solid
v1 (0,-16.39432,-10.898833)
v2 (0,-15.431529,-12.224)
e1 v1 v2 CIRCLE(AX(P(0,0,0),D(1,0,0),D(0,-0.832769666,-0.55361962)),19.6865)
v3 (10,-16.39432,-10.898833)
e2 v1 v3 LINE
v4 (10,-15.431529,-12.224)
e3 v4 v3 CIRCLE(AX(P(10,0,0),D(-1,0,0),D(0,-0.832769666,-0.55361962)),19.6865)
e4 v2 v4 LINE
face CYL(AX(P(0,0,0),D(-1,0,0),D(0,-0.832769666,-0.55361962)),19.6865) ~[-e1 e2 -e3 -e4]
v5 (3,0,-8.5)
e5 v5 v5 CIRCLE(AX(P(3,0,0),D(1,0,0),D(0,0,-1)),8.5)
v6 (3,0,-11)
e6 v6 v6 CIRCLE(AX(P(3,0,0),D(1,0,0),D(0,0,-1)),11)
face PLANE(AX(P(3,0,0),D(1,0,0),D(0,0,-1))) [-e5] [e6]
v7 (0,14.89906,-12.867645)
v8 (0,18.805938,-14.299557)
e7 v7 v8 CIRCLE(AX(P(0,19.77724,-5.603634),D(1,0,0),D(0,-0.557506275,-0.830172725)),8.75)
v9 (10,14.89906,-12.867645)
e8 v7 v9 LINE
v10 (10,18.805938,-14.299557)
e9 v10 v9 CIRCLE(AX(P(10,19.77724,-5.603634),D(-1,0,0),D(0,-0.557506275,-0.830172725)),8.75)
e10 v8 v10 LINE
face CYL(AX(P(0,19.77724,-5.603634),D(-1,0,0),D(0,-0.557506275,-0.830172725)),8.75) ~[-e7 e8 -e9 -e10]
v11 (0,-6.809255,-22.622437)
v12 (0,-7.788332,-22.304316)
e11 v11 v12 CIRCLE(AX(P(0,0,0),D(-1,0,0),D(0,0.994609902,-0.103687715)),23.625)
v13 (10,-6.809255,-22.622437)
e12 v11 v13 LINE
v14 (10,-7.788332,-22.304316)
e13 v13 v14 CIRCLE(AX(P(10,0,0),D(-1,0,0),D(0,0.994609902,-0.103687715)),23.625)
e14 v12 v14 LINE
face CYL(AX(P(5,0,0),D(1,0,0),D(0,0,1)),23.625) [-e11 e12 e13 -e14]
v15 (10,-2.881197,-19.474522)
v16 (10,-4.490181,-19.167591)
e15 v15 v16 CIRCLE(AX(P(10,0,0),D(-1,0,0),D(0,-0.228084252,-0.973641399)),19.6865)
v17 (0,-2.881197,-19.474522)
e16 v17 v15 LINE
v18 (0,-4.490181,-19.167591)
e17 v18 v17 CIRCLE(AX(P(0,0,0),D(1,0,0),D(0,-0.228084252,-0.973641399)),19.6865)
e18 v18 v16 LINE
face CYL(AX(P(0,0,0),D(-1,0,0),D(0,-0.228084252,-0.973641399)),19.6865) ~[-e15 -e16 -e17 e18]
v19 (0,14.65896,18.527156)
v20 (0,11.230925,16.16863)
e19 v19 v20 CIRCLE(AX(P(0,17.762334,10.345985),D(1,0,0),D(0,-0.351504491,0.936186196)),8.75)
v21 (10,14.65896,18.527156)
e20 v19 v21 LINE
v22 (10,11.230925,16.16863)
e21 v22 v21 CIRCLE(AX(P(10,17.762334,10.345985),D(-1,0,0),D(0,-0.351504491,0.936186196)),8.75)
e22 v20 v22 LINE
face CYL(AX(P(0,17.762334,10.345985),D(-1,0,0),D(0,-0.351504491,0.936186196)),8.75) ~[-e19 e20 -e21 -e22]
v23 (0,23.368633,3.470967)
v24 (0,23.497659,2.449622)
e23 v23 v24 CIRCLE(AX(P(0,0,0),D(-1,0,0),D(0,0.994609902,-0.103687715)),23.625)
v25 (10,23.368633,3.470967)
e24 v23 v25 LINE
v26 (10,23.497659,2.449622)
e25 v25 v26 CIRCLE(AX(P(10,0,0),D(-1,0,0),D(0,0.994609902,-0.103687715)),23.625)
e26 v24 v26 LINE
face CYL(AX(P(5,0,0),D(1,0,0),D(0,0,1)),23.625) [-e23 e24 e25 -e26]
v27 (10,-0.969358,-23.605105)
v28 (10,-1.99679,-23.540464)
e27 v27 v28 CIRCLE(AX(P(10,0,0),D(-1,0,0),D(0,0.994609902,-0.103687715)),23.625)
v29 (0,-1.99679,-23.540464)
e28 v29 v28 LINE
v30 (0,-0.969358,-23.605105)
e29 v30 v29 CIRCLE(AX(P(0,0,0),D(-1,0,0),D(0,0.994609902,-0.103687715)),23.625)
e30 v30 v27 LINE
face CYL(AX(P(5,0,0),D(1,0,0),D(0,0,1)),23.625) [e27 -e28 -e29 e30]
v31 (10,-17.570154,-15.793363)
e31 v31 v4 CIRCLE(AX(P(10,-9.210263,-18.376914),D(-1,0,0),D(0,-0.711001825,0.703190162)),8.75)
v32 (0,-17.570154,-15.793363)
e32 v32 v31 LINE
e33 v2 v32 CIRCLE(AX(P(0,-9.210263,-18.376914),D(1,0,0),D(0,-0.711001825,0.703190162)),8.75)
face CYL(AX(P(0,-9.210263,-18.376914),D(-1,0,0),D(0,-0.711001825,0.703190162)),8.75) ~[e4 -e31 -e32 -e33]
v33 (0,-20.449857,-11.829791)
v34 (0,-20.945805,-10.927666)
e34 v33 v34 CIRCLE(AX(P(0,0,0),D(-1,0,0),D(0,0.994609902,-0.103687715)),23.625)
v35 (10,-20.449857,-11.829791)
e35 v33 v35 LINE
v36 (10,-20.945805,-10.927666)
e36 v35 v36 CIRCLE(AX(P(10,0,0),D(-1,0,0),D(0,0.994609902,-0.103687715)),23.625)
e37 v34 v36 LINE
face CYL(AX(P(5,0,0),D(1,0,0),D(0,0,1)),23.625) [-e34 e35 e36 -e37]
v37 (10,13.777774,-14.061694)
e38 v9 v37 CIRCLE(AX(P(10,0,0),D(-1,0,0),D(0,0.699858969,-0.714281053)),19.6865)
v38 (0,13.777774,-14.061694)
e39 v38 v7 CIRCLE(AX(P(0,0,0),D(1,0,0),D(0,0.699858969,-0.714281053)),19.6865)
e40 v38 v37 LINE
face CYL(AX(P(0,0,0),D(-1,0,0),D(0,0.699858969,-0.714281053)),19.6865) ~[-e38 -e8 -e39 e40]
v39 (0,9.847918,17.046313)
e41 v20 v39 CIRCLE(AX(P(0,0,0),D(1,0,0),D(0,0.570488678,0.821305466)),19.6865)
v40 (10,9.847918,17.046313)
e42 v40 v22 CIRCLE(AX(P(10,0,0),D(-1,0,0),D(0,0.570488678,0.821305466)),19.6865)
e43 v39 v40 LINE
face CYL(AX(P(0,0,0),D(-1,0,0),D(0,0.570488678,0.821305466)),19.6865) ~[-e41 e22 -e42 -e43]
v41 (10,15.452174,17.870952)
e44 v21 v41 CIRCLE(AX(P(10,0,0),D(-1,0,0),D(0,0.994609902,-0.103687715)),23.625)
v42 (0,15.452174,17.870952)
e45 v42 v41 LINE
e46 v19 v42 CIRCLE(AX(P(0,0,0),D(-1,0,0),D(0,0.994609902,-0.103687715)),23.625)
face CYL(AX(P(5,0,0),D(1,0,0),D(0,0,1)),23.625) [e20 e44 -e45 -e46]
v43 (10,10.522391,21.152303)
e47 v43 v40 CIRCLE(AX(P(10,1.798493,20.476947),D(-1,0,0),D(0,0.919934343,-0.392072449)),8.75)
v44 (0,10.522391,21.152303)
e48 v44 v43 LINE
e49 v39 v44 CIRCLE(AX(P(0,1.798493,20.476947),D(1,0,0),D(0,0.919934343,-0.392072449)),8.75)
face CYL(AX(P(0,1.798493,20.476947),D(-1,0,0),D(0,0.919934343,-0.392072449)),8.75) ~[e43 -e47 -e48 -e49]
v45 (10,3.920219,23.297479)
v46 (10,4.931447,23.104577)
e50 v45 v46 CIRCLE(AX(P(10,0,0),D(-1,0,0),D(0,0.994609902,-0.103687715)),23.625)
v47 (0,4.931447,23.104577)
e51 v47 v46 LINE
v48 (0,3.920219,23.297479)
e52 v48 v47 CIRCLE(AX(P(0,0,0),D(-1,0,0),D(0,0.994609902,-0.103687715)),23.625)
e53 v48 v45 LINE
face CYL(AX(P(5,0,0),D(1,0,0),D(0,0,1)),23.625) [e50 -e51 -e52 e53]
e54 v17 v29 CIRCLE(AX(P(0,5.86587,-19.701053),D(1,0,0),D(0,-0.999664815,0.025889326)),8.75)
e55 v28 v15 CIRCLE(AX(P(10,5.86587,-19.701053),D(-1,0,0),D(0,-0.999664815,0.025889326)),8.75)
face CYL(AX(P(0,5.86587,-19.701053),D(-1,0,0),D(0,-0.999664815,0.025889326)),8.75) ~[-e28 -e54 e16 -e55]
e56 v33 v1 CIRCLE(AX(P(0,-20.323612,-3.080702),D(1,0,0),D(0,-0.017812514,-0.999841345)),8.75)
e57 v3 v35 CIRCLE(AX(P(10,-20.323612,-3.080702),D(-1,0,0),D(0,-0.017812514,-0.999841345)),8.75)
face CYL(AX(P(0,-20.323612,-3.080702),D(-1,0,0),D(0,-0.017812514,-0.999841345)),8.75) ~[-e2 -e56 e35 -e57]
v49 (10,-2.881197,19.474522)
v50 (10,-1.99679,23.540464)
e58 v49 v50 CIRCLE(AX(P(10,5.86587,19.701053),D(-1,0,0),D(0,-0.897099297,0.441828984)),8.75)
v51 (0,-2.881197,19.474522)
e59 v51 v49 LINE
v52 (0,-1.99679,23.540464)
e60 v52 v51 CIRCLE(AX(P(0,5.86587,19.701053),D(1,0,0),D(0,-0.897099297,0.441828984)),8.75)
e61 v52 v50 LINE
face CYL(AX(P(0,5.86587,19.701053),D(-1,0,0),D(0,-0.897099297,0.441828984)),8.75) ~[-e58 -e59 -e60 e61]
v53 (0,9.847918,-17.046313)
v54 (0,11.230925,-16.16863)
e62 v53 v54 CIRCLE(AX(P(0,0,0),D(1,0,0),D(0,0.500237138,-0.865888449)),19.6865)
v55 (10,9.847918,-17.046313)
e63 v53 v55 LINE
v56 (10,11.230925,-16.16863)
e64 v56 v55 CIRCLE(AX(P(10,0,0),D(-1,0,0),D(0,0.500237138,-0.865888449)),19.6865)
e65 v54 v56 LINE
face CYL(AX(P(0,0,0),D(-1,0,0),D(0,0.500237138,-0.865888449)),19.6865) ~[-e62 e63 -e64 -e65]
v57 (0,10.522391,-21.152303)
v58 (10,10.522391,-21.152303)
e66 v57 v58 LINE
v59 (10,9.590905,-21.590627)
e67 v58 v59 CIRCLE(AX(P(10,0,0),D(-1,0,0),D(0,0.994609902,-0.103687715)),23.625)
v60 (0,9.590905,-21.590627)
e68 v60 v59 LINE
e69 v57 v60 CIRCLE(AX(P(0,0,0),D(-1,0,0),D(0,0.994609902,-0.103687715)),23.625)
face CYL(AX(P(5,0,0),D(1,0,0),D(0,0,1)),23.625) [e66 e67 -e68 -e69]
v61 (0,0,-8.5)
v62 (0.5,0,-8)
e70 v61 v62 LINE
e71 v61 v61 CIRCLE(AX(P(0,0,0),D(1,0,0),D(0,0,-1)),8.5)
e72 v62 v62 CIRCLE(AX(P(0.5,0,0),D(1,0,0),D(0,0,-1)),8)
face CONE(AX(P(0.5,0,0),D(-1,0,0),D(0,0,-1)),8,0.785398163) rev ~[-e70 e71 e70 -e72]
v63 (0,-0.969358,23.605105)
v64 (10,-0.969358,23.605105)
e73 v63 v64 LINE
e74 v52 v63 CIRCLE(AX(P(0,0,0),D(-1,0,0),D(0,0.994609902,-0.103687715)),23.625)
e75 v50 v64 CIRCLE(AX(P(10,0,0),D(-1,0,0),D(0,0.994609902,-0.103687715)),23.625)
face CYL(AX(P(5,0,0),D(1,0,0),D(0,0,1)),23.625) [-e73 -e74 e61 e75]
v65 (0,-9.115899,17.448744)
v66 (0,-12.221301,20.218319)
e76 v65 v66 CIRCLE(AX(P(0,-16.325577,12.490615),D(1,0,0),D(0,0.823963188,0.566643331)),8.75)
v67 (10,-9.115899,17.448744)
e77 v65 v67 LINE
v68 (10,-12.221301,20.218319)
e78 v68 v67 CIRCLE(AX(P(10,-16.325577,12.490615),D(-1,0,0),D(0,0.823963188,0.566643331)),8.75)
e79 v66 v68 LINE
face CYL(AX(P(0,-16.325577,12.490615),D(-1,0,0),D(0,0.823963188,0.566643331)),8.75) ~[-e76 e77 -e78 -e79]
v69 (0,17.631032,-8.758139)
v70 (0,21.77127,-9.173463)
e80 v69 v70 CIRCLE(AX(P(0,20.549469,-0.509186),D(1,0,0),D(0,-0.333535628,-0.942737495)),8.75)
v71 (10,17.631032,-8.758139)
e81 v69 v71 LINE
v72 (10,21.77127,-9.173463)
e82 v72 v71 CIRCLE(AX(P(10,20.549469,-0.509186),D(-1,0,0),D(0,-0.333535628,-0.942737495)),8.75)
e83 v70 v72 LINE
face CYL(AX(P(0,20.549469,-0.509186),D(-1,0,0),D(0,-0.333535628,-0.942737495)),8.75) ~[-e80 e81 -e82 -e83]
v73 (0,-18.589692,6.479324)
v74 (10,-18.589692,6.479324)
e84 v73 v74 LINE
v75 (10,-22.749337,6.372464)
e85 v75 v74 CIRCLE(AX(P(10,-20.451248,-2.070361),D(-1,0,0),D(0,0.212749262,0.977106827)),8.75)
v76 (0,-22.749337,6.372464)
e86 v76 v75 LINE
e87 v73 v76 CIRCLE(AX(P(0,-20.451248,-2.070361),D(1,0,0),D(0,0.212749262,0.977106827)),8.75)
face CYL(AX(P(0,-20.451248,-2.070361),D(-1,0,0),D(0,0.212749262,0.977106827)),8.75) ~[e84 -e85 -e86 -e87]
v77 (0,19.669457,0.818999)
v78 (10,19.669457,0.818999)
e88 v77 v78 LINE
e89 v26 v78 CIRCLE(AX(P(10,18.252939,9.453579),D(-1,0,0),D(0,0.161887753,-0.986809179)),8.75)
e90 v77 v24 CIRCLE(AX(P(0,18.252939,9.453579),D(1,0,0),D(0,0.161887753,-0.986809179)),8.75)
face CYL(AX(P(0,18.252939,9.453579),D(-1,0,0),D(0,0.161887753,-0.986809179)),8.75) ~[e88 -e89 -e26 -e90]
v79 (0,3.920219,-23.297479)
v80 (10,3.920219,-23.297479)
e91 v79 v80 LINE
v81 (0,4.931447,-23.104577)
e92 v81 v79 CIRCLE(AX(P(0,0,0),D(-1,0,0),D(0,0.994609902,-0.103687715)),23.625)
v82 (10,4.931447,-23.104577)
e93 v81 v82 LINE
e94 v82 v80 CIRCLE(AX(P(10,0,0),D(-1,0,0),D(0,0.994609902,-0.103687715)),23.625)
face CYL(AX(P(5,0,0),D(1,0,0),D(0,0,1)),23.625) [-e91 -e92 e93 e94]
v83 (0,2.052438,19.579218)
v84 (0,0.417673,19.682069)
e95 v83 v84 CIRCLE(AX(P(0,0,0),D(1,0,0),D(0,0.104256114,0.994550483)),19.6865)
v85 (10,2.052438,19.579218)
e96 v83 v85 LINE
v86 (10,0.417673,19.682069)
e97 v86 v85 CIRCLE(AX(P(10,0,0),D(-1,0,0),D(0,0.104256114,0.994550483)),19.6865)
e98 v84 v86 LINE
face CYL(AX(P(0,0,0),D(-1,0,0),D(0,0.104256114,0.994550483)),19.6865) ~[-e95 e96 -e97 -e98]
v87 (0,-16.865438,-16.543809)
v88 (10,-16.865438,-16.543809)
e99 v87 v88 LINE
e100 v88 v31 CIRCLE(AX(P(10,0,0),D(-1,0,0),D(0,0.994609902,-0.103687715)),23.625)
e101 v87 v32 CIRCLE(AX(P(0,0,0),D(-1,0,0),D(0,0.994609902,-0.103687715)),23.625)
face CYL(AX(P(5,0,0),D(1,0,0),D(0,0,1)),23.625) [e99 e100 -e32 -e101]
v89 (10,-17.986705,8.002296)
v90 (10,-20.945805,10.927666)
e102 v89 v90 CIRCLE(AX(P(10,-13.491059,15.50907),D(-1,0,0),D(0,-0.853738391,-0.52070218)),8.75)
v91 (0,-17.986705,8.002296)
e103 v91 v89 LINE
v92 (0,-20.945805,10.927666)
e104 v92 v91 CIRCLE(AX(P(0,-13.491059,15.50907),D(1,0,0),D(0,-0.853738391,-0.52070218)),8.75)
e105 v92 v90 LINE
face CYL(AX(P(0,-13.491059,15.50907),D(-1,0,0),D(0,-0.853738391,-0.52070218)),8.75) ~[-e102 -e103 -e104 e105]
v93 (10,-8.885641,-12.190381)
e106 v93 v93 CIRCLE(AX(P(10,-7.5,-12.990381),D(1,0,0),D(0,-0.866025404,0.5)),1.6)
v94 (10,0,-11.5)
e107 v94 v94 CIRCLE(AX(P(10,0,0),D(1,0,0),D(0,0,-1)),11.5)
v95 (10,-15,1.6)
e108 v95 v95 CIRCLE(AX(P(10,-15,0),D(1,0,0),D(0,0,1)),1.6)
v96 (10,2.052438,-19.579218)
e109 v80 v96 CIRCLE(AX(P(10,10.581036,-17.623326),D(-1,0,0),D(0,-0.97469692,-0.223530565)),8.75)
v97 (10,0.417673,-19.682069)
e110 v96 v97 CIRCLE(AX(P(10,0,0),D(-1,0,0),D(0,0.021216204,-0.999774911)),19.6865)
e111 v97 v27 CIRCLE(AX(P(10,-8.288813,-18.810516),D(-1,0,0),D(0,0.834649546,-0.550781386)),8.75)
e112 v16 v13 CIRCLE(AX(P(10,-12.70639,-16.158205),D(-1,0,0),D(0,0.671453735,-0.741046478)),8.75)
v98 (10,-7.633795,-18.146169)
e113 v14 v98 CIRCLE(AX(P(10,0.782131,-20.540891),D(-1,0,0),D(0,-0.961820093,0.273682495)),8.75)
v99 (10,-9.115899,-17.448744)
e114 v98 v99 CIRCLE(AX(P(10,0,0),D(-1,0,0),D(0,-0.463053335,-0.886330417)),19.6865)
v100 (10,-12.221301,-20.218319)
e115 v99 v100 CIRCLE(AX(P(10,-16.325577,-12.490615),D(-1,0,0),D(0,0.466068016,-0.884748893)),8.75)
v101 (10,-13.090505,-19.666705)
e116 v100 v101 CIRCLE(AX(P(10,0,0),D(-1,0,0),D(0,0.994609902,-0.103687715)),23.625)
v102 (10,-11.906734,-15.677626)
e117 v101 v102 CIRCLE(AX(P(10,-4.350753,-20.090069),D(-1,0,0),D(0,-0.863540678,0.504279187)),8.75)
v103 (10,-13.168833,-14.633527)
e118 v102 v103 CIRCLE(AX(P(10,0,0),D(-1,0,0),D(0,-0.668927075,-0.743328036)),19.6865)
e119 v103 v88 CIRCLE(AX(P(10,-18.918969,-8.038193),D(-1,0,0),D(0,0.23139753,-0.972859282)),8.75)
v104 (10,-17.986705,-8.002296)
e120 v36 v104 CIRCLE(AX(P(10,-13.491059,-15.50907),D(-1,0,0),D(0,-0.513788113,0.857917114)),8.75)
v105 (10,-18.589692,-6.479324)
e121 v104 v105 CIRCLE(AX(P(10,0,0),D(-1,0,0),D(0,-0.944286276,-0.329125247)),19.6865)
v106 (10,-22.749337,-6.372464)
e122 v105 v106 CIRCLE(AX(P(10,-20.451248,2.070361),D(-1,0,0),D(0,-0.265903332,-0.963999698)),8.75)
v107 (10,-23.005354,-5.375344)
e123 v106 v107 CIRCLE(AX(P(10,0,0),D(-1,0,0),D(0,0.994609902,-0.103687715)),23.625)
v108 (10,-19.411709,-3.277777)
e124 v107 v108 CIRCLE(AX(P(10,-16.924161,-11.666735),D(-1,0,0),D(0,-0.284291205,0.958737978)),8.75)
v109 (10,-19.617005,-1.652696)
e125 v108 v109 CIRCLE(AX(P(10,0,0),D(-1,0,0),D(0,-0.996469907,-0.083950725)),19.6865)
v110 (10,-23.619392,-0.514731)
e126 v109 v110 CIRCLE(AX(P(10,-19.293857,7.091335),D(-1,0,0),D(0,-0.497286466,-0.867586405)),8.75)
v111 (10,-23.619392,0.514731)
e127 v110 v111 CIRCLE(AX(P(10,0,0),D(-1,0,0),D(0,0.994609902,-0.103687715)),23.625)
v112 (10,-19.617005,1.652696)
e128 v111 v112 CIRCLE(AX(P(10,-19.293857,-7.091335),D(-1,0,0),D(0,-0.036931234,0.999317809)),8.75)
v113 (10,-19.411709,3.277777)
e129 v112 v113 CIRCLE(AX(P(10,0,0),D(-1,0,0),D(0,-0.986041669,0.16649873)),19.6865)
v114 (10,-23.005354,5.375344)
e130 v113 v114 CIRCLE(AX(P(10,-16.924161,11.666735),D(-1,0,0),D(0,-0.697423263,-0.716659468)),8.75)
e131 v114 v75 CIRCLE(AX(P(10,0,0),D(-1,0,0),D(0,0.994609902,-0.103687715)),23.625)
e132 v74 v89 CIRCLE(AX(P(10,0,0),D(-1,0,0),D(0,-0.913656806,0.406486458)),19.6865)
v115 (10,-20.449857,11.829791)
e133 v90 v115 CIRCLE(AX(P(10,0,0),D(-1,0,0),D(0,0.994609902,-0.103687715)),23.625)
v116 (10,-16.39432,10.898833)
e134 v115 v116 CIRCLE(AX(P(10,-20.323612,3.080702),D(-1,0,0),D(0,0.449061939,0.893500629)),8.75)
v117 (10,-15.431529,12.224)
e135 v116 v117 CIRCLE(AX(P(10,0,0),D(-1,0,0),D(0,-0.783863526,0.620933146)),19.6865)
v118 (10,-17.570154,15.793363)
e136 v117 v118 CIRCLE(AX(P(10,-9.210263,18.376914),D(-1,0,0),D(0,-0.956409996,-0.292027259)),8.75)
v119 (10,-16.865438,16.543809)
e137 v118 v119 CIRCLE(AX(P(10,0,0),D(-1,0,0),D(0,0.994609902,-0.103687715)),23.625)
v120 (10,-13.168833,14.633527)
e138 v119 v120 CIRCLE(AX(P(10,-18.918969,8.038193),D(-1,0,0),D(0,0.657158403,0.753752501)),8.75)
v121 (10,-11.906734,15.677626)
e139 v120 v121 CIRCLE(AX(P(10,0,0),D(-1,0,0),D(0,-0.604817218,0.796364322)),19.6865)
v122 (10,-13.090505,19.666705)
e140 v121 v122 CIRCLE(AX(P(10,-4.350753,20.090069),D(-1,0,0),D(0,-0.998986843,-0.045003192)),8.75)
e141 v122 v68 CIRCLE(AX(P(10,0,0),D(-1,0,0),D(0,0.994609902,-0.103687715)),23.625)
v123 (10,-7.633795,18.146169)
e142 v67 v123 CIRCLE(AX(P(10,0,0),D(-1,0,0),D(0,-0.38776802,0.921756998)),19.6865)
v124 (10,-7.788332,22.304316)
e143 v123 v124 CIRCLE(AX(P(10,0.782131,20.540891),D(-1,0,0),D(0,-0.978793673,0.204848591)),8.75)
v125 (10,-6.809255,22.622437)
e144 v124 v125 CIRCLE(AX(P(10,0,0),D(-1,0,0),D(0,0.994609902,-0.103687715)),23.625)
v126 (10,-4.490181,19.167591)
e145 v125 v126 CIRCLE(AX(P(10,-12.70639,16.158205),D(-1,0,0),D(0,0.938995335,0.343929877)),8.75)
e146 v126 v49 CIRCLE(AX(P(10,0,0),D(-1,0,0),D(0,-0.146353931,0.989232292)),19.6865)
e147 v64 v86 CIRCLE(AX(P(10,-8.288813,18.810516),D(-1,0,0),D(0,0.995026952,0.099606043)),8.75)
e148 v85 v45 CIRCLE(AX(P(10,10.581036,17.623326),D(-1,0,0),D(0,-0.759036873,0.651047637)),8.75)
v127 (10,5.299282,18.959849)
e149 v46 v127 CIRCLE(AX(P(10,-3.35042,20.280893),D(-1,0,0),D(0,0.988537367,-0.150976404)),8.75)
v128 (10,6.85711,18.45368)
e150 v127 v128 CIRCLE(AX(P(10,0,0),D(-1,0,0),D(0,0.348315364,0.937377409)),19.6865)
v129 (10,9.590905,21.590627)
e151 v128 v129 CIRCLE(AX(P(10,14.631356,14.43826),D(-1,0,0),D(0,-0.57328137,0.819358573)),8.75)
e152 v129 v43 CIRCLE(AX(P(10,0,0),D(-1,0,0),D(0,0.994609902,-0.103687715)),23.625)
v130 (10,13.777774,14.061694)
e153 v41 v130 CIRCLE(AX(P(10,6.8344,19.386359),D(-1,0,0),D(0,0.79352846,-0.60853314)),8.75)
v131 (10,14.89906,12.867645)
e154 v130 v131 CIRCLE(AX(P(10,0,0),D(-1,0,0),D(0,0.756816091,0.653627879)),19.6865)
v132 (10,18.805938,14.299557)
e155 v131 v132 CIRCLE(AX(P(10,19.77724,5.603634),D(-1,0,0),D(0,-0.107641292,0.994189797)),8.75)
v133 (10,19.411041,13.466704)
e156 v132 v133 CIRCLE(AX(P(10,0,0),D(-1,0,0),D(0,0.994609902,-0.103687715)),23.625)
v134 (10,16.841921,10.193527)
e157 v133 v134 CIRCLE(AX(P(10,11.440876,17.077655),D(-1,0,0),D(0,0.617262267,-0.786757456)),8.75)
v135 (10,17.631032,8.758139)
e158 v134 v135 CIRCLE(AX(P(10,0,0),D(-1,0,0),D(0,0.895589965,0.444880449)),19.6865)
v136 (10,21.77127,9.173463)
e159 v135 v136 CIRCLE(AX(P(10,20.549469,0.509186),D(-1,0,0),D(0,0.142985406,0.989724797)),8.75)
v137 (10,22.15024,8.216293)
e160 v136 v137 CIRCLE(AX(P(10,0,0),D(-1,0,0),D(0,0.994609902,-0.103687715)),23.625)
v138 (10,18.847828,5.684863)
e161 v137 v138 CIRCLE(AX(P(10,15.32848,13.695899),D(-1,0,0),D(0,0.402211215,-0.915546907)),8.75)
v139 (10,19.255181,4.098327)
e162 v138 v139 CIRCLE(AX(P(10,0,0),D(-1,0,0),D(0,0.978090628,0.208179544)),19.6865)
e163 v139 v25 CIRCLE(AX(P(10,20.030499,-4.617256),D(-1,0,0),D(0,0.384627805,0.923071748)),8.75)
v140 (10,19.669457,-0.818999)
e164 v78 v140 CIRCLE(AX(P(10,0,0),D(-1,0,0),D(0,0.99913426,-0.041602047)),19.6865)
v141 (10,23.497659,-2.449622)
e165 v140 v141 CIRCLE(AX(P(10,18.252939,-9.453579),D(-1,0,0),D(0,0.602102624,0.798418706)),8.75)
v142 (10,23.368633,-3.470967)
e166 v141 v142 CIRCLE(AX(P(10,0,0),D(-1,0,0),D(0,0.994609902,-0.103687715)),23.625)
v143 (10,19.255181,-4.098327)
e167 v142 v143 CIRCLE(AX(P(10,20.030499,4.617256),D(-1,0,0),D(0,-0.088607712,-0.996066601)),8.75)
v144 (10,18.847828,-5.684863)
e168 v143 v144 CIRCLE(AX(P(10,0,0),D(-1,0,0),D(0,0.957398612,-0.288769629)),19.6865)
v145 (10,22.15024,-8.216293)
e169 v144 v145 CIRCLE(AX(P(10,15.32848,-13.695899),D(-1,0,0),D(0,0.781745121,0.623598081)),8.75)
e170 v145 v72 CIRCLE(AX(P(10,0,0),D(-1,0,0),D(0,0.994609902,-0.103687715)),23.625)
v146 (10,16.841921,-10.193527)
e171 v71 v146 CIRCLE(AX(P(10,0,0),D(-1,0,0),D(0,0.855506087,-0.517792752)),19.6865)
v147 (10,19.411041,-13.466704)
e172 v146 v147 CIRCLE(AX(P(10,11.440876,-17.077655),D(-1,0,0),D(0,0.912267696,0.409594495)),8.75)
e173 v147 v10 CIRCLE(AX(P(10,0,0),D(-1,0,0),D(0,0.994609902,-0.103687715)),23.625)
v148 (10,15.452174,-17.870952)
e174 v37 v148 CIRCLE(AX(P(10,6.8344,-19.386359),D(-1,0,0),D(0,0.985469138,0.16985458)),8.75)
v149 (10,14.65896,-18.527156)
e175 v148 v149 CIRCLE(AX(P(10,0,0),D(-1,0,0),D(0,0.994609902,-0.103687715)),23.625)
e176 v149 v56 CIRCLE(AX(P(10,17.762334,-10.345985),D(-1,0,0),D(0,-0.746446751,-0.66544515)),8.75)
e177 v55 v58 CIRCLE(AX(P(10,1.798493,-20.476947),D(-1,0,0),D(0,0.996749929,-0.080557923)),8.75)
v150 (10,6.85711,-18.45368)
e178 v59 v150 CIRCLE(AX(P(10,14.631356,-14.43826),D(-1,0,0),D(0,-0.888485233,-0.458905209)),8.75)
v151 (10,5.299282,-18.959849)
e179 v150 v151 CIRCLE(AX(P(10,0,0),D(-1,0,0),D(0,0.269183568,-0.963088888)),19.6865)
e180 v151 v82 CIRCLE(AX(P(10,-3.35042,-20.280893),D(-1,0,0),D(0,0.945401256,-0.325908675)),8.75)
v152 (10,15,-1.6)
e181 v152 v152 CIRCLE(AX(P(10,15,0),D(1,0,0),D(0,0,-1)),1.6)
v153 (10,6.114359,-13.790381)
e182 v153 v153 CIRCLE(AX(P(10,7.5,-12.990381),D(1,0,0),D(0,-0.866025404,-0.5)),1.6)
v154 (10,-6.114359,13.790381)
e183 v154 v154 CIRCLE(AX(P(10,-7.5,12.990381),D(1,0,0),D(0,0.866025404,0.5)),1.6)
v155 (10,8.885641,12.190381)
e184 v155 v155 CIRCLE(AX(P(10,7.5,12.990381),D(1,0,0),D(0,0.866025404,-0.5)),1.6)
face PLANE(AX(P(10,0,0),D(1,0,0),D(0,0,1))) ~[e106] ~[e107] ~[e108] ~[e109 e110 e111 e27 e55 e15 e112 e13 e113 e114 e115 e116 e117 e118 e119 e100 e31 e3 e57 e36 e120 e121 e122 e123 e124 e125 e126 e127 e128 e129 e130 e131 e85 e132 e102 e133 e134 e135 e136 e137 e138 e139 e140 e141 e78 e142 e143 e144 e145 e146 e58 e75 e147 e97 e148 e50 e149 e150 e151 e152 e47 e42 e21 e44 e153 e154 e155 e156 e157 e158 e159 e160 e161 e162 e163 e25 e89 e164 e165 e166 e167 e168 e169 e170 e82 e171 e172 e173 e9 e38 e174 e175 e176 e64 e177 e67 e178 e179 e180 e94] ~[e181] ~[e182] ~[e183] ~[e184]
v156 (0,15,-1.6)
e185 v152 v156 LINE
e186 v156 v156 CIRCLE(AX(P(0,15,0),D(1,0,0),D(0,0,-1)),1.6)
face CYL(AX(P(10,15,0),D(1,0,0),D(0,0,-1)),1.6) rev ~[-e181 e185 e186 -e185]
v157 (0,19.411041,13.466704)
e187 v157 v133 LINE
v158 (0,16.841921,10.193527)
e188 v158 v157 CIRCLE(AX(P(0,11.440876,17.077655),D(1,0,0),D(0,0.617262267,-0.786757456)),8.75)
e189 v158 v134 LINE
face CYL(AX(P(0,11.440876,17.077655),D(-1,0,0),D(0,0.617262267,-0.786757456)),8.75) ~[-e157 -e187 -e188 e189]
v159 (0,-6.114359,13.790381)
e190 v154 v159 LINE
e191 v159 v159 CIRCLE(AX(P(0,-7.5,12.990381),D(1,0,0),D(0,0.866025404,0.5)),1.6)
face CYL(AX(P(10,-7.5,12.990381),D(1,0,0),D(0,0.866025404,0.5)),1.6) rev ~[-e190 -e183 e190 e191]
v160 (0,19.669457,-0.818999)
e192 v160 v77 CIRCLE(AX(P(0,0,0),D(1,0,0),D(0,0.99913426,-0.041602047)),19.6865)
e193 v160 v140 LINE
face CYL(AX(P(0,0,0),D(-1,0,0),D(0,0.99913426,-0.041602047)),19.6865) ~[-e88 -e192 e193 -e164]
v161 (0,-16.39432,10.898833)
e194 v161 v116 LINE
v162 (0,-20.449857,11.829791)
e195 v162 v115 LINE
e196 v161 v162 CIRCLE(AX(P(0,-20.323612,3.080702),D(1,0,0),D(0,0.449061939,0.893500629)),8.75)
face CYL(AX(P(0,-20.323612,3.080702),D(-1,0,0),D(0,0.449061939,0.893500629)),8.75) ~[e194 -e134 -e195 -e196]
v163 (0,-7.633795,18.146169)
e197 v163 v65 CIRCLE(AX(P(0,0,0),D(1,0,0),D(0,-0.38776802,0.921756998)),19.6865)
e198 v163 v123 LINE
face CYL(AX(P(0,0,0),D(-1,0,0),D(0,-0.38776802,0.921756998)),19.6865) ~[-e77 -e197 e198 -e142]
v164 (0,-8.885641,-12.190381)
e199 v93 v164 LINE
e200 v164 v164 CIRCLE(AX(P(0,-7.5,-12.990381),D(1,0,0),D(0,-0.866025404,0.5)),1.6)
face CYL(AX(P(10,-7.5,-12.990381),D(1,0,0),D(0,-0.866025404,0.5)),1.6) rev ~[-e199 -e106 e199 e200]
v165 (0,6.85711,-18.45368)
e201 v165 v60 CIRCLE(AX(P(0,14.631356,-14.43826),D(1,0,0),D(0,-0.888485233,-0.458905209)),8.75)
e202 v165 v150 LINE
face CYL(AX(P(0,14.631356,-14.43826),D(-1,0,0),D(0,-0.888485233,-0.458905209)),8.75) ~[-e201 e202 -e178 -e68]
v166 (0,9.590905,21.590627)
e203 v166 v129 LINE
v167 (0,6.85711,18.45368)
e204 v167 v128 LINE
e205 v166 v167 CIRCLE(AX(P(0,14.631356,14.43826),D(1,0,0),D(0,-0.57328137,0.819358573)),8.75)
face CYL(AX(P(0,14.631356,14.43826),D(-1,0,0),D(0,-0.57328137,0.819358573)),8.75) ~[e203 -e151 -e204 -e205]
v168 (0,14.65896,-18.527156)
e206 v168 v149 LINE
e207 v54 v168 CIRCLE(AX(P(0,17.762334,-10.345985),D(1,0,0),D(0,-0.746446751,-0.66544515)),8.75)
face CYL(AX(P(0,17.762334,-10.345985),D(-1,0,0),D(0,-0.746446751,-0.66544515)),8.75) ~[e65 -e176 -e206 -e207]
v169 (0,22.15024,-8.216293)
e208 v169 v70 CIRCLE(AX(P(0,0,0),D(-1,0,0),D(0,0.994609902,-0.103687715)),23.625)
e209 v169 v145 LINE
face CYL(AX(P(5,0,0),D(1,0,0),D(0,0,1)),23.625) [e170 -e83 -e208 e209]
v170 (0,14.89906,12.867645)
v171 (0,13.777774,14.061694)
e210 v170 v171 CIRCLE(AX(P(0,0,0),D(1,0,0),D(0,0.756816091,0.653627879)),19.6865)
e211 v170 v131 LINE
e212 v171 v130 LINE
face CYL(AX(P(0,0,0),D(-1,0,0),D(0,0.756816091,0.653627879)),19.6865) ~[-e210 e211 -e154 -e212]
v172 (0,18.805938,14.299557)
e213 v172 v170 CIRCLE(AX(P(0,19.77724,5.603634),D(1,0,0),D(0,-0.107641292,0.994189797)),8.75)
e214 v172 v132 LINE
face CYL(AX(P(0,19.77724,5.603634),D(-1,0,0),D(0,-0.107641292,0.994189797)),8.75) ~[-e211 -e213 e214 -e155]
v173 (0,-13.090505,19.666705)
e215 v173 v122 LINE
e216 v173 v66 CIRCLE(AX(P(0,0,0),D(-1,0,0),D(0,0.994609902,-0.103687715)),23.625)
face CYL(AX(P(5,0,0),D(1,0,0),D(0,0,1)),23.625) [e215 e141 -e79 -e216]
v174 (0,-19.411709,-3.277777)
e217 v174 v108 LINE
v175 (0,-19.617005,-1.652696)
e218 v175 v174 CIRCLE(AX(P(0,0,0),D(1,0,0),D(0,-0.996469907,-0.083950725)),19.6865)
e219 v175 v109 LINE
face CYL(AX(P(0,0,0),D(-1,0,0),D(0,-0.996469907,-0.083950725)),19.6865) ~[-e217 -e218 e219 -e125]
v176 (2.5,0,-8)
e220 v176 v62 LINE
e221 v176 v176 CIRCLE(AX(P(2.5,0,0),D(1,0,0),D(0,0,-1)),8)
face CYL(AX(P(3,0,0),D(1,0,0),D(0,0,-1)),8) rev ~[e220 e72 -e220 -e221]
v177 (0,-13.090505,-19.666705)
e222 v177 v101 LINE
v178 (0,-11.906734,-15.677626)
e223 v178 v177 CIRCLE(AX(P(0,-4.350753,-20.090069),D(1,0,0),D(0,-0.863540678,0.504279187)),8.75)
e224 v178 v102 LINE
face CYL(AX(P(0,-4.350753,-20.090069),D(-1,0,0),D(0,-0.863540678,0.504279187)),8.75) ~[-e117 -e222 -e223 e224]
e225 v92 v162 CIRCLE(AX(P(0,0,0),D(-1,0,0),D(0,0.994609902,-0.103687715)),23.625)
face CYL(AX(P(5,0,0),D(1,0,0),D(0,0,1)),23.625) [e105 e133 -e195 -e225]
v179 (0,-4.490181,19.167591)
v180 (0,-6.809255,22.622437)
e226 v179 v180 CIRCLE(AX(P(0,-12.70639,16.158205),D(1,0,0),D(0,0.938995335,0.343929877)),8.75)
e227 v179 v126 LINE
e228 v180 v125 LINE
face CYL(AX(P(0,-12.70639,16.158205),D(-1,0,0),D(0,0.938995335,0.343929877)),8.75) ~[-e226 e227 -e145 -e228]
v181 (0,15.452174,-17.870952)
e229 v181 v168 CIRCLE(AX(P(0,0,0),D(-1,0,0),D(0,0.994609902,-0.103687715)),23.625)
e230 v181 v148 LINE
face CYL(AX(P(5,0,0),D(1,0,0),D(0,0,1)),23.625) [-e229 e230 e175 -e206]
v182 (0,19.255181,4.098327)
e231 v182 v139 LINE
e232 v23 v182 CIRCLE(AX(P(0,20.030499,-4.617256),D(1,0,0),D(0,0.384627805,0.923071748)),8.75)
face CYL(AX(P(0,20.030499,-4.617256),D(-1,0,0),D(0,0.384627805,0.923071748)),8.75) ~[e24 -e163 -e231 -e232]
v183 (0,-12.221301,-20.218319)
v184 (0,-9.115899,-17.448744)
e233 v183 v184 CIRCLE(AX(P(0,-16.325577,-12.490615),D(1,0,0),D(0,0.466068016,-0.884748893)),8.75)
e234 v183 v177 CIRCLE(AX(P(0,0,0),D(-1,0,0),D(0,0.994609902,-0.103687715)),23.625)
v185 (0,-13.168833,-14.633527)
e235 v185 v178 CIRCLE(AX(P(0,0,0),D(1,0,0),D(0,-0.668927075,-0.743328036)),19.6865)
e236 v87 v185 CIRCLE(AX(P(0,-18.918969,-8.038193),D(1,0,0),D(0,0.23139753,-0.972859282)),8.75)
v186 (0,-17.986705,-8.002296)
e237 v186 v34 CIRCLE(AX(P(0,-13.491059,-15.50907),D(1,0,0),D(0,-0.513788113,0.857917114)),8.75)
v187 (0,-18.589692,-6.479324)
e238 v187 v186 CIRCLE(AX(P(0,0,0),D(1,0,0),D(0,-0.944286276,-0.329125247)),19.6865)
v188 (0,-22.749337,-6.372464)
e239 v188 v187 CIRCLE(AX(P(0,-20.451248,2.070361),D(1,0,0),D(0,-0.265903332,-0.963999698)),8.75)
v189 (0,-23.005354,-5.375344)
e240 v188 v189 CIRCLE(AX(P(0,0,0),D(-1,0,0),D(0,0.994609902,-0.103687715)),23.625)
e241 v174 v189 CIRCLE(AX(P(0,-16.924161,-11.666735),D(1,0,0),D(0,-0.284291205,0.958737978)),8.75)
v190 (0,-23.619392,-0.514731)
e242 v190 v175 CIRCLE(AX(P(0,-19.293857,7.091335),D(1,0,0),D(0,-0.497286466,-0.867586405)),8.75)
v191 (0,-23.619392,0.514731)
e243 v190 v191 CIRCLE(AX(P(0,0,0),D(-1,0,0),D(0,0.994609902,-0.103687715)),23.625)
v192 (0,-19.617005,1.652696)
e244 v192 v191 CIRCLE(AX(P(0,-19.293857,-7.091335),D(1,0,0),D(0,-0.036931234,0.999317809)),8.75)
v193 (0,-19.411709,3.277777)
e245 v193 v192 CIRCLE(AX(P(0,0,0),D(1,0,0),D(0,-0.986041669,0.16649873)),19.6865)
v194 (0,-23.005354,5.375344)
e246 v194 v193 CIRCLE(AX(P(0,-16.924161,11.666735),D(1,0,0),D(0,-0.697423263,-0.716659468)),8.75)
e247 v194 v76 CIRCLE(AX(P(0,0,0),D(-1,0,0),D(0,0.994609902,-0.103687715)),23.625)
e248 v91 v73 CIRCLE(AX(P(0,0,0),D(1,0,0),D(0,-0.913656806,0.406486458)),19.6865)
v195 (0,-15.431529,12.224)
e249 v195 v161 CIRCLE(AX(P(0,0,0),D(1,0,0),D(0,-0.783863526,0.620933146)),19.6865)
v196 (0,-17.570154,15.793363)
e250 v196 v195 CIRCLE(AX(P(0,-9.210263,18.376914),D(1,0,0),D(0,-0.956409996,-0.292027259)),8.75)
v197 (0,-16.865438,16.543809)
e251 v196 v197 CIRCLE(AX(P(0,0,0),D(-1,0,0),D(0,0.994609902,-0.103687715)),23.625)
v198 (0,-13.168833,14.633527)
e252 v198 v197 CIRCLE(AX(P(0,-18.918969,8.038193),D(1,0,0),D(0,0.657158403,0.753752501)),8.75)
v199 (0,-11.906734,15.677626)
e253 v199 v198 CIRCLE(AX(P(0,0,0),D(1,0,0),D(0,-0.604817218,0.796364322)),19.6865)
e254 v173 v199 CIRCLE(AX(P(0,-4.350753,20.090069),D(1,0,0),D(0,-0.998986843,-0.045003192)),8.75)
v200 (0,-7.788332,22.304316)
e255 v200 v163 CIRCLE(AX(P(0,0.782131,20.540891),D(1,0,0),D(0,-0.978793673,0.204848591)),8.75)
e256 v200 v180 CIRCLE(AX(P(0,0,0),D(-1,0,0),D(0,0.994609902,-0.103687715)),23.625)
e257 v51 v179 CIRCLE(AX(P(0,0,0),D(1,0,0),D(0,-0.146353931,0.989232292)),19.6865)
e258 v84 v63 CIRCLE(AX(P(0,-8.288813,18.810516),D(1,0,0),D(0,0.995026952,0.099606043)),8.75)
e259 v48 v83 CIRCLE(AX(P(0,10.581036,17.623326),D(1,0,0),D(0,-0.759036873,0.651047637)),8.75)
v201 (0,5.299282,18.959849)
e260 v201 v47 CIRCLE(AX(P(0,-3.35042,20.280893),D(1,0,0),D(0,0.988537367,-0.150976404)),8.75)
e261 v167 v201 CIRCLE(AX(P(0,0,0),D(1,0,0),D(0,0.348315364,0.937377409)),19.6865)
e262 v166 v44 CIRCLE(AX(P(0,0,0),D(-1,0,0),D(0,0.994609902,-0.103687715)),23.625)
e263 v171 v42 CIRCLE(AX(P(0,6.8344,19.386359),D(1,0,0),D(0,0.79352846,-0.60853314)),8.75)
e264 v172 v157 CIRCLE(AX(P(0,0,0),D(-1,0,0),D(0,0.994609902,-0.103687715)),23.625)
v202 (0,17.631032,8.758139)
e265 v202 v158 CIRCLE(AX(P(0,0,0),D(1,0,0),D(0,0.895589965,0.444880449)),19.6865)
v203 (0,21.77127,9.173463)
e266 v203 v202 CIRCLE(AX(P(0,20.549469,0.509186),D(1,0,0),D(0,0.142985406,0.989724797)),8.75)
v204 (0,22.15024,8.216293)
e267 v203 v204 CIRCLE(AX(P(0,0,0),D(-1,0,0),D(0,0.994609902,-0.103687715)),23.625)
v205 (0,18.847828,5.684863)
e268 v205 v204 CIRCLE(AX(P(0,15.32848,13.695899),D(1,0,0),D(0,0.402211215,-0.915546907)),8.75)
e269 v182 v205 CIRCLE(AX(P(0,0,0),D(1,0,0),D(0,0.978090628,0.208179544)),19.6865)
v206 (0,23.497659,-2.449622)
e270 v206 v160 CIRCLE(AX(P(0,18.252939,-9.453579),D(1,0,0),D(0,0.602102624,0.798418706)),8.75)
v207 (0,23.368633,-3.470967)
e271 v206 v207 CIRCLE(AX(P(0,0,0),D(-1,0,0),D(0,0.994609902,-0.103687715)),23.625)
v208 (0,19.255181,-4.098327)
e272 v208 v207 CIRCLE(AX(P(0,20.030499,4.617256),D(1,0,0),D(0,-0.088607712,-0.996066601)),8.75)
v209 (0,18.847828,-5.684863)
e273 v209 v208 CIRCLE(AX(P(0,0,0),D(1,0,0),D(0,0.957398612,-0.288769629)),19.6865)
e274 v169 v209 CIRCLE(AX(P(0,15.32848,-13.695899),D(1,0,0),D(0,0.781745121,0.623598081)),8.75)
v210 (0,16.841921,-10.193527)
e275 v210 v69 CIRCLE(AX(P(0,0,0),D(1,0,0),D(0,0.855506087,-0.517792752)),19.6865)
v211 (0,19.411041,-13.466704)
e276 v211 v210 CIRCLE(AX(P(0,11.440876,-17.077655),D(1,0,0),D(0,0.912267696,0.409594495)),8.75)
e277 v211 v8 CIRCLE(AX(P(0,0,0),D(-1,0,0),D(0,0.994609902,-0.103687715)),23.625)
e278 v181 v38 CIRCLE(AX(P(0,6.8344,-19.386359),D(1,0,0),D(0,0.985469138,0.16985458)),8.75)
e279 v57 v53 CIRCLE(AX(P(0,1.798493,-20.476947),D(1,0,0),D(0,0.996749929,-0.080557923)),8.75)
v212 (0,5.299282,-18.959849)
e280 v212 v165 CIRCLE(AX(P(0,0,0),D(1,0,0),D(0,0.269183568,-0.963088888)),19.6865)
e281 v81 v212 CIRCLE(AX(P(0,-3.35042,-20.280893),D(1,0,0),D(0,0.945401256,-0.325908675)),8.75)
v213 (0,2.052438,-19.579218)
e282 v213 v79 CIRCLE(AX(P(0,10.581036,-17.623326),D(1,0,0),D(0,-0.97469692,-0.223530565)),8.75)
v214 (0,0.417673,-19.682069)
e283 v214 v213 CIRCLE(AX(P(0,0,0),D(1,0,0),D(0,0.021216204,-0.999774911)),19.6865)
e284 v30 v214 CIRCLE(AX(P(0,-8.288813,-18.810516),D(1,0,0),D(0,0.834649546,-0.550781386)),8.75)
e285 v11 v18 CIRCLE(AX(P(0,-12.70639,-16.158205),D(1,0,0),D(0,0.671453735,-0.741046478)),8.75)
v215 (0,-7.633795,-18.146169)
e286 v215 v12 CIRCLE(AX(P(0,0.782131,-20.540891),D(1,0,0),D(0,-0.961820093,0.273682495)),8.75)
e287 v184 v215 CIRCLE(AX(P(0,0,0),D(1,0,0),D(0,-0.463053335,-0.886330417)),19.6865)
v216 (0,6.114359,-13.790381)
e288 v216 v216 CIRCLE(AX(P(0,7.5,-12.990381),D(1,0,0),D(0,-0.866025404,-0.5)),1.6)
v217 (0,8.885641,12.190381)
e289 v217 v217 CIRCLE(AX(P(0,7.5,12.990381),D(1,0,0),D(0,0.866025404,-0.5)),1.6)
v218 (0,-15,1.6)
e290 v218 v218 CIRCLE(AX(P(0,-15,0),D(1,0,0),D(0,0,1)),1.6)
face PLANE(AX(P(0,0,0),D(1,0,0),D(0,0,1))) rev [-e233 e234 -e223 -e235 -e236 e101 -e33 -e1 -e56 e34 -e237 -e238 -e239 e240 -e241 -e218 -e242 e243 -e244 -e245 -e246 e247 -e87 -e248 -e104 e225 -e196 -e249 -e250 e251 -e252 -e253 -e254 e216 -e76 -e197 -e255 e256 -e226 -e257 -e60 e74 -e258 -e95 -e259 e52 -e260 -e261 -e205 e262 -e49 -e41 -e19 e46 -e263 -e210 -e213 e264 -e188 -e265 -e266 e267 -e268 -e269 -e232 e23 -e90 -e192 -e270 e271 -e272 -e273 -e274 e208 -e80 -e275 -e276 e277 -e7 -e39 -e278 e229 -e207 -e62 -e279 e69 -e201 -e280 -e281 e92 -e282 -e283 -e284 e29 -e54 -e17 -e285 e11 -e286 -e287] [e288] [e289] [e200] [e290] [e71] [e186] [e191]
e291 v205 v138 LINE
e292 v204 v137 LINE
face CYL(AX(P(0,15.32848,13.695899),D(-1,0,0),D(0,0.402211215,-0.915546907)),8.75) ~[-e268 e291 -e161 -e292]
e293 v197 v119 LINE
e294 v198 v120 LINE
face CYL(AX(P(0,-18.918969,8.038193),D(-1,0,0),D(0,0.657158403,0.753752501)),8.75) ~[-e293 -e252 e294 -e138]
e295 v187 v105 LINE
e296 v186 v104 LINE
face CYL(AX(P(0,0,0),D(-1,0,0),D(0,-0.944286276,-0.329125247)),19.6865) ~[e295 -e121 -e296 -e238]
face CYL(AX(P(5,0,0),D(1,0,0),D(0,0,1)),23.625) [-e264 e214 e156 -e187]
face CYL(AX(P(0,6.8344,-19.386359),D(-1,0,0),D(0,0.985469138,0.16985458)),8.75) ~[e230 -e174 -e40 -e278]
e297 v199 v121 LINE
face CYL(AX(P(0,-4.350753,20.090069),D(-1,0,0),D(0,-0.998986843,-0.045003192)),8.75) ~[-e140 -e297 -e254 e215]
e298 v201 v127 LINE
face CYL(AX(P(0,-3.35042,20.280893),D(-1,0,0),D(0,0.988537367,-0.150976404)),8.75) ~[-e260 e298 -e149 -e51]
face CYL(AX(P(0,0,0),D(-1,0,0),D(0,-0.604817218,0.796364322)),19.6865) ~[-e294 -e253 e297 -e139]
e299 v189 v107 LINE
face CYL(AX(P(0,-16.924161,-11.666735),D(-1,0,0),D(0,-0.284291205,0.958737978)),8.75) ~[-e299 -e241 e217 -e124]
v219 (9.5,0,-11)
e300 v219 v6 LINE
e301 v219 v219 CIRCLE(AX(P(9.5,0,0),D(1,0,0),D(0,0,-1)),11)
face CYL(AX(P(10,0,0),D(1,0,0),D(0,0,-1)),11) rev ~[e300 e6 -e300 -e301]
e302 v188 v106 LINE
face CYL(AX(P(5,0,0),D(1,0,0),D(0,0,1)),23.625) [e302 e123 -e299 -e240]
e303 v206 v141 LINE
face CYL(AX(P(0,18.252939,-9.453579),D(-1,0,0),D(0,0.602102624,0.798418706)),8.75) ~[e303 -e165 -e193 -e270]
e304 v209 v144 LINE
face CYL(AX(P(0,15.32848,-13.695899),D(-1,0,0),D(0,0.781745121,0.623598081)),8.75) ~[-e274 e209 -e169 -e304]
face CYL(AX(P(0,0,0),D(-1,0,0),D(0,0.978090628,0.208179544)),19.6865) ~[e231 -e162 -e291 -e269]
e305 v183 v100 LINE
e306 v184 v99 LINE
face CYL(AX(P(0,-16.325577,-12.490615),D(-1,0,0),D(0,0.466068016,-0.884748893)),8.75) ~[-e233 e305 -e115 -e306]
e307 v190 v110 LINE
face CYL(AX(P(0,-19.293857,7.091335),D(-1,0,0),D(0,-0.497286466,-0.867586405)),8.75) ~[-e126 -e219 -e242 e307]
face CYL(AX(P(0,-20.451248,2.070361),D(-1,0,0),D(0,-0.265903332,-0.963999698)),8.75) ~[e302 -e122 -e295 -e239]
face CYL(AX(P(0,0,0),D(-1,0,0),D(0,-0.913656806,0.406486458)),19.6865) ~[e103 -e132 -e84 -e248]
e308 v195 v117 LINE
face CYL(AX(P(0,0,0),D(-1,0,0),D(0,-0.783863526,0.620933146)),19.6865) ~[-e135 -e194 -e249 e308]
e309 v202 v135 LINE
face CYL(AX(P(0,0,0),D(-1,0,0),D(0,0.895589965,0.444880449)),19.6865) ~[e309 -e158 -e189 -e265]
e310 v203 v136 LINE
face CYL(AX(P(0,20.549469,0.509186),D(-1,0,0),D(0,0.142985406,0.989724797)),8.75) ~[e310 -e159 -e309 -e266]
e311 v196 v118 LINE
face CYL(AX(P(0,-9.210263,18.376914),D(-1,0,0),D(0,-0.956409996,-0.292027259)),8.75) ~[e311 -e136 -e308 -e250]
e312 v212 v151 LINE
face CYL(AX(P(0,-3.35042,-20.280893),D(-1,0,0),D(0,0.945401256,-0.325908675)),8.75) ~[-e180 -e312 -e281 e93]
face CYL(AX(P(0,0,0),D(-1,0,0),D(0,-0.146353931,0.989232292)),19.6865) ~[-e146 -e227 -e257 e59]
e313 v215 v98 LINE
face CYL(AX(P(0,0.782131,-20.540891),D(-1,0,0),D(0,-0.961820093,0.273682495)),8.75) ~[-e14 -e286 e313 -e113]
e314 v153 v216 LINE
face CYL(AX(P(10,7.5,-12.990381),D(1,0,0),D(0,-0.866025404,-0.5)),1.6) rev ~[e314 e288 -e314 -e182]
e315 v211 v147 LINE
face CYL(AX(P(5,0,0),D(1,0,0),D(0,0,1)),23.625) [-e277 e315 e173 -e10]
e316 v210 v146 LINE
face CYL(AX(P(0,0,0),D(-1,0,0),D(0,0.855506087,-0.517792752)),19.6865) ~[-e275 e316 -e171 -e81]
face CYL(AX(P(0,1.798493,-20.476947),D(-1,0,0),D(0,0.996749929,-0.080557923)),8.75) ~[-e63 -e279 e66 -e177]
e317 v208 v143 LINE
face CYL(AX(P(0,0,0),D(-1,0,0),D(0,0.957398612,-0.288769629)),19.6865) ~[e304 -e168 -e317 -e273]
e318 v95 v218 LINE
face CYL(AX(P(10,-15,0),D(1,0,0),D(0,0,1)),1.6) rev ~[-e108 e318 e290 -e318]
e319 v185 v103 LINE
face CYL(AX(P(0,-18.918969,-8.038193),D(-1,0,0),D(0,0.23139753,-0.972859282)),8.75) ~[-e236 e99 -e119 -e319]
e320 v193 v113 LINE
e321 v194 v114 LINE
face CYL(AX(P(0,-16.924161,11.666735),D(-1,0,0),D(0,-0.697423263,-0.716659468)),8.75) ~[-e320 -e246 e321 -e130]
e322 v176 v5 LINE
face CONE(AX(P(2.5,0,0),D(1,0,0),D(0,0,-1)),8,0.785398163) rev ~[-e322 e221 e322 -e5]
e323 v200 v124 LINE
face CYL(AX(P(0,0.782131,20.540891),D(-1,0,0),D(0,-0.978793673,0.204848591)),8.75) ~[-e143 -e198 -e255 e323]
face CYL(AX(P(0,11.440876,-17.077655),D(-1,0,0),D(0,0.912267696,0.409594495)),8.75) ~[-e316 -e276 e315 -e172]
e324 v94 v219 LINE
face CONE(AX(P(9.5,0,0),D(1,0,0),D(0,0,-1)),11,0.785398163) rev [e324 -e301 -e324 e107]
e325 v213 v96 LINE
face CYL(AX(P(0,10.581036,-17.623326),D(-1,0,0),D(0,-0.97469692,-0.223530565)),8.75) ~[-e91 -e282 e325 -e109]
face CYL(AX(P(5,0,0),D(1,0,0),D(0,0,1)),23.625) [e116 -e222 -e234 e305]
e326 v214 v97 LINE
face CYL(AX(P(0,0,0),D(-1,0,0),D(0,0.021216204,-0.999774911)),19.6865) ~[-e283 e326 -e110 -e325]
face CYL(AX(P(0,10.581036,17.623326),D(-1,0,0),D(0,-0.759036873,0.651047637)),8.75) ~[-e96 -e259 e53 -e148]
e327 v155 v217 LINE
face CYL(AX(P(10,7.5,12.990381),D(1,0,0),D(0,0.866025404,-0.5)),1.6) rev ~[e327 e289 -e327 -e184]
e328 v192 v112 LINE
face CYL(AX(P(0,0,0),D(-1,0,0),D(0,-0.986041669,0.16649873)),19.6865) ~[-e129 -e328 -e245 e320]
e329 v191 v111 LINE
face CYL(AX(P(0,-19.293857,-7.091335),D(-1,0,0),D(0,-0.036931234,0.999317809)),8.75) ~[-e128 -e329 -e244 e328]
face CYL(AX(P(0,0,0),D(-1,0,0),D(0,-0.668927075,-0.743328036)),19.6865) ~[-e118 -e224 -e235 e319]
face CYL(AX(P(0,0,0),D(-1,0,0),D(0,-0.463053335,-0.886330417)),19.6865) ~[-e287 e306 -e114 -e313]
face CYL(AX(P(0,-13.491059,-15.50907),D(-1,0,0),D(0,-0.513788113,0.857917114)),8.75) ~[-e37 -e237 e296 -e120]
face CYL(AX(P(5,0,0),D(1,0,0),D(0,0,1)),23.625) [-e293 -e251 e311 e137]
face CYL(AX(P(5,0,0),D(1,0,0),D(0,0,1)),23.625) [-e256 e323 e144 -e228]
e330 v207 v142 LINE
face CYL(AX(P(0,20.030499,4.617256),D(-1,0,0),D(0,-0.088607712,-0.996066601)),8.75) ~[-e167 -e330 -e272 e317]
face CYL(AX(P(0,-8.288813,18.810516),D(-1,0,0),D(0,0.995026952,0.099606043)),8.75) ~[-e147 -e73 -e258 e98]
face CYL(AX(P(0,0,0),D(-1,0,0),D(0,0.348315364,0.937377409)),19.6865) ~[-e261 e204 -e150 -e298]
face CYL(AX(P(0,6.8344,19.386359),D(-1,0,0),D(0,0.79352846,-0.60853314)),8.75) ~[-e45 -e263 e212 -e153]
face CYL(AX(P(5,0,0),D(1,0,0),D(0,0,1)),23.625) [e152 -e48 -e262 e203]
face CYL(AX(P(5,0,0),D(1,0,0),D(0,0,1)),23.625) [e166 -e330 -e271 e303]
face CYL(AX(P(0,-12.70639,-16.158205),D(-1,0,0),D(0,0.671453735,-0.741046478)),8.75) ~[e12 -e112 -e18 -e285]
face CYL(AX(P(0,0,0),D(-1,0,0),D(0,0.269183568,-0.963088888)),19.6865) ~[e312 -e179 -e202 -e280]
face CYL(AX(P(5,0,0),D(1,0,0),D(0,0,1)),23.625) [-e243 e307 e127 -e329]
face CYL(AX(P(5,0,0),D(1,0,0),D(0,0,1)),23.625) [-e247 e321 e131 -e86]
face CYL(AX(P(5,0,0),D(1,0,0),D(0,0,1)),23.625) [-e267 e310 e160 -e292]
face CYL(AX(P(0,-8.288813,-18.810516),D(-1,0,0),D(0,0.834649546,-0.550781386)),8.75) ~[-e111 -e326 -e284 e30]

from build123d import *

# Parameters (mm, degrees)
BASPROSKE_W        = 10
BASPROSKE_H        = 23.625
TOOTHCUT_DEPTH     = 35.875224014
TEETHCUTS_COUNT    = 25
TEETHCUTS_ANGLE    = 345.6
BORSKE_R           = 4
BORE_DEPTH         = 50.0000508
SKETCH1_R          = 11
CUT_EXTRUDE1_DEPTH = 7
CUT_EXTRUDE2_REACH = 36.122
SKETCH2_R          = 8
CUT_EXTRUDE3_REACH = 36.862
SKETCH3_R          = 1.6
CIRPATTERN1_COUNT  = 6
CHAMFER1_SIZE      = 0.5


with BuildPart() as part:
    # BasProSke → Base-Revolve (revolve)
    with BuildSketch(Plane(origin=(0, 0, 0), x_dir=(1, 0, 0), z_dir=(0, 1, 0)), mode=Mode.PRIVATE) as base_revolve_sk:
        with Locations((5, 11.8125)):
            Rectangle(BASPROSKE_W, BASPROSKE_H)
    revolve(base_revolve_sk.sketch.rotate(Axis((-10, 0, 0), (1, 0, 0)), 180), axis=Axis((-10, 0, 0), (1, 0, 0)))

    # TooCutSke → ToothCut (cut, through all)
    with BuildSketch(Plane(origin=(0, 0, 0), x_dir=(0, 0, -1), z_dir=(1, 0, 0))):
        with BuildLine():
            ThreePointArc((0.818998709, 19.669456611), (0, 19.6865), (-0.818998709, 19.669456611))
            ThreePointArc((-0.818998709, 19.669456611), (-1.409254574, 21.695516899), (-2.467415344, 23.521336732))
            ThreePointArc((-2.467415344, 23.521336732), (0, 23.6504), (2.467415344, 23.521336732))
            ThreePointArc((2.467415344, 23.521336732), (1.409254574, 21.695516899), (0.818998709, 19.669456611))
        make_face()
    toothcut = extrude(amount=TOOTHCUT_DEPTH, mode=Mode.SUBTRACT)

    # TeethCuts: ToothCut ×25 about axis
    teethcuts_axis = Axis((-10, 0, 0), (1, 0, 0))
    for i in range(1, TEETHCUTS_COUNT):
        add(toothcut.rotate(teethcuts_axis, i * TEETHCUTS_ANGLE / (TEETHCUTS_COUNT - 1)), mode=Mode.SUBTRACT)

    # BorSke → Bore (cut, symmetric)
    with BuildSketch(Plane(origin=(0, 0, 0), x_dir=(0, 0, -1), z_dir=(1, 0, 0))):
        with Locations(Location((0, 0, 0), (0, 0, 180))):
            Circle(BORSKE_R)
    extrude(amount=BORE_DEPTH, both=True, mode=Mode.SUBTRACT)

    # Sketch1 → Cut-Extrude1 (cut)
    with BuildSketch(Plane(origin=(10, 0, 0), x_dir=(0, 0, -1), z_dir=(1, 0, 0))):
        Circle(SKETCH1_R)
    extrude(amount=-CUT_EXTRUDE1_DEPTH, mode=Mode.SUBTRACT)

    # Sketch2 → Cut-Extrude2 (cut, up to next)
    with BuildSketch(Plane(origin=(3, 0, 0), x_dir=(0, 0, -1), z_dir=(1, 0, 0)), mode=Mode.PRIVATE) as cut_extrude2_sk1:
        Circle(SKETCH2_R)
    cut_extrude2_tool1 = extrude(cut_extrude2_sk1.sketch, amount=-CUT_EXTRUDE2_REACH, mode=Mode.PRIVATE) & part.part
    add(cut_extrude2_tool1.solids().sort_by_distance((3, 0, 0))[0], mode=Mode.SUBTRACT)

    # Sketch3 → Cut-Extrude3 (cut, up to next)
    with BuildSketch(Plane(origin=(10, 0, 0), x_dir=(0, 0, -1), z_dir=(1, 0, 0)), mode=Mode.PRIVATE) as cut_extrude3_sk1:
        with Locations((0, 15)):
            Circle(SKETCH3_R)
    cut_extrude3_tool1 = extrude(cut_extrude3_sk1.sketch, amount=-CUT_EXTRUDE3_REACH, mode=Mode.PRIVATE) & part.part
    cut_extrude3 = cut_extrude3_tool1.solids().sort_by_distance((10, 15, 0))[0]
    add(cut_extrude3, mode=Mode.SUBTRACT)

    # CirPattern1: Cut-Extrude3 ×6 about axis
    cirpattern1_axis = Axis((0, 0, 0), (1, 0, 0))
    for i in range(1, CIRPATTERN1_COUNT):
        add(cut_extrude3.rotate(cirpattern1_axis, i * 360 / CIRPATTERN1_COUNT), mode=Mode.SUBTRACT)

    # Chamfer1
    chamfer1_edges = [part.edges().sort_by_distance(p)[0] for p in [
        (10, 0, 11),
        (3, 0, 8),
        (0, 0, 8),
    ]]
    chamfer(chamfer1_edges, length=CHAMFER1_SIZE)


solid = part.part
